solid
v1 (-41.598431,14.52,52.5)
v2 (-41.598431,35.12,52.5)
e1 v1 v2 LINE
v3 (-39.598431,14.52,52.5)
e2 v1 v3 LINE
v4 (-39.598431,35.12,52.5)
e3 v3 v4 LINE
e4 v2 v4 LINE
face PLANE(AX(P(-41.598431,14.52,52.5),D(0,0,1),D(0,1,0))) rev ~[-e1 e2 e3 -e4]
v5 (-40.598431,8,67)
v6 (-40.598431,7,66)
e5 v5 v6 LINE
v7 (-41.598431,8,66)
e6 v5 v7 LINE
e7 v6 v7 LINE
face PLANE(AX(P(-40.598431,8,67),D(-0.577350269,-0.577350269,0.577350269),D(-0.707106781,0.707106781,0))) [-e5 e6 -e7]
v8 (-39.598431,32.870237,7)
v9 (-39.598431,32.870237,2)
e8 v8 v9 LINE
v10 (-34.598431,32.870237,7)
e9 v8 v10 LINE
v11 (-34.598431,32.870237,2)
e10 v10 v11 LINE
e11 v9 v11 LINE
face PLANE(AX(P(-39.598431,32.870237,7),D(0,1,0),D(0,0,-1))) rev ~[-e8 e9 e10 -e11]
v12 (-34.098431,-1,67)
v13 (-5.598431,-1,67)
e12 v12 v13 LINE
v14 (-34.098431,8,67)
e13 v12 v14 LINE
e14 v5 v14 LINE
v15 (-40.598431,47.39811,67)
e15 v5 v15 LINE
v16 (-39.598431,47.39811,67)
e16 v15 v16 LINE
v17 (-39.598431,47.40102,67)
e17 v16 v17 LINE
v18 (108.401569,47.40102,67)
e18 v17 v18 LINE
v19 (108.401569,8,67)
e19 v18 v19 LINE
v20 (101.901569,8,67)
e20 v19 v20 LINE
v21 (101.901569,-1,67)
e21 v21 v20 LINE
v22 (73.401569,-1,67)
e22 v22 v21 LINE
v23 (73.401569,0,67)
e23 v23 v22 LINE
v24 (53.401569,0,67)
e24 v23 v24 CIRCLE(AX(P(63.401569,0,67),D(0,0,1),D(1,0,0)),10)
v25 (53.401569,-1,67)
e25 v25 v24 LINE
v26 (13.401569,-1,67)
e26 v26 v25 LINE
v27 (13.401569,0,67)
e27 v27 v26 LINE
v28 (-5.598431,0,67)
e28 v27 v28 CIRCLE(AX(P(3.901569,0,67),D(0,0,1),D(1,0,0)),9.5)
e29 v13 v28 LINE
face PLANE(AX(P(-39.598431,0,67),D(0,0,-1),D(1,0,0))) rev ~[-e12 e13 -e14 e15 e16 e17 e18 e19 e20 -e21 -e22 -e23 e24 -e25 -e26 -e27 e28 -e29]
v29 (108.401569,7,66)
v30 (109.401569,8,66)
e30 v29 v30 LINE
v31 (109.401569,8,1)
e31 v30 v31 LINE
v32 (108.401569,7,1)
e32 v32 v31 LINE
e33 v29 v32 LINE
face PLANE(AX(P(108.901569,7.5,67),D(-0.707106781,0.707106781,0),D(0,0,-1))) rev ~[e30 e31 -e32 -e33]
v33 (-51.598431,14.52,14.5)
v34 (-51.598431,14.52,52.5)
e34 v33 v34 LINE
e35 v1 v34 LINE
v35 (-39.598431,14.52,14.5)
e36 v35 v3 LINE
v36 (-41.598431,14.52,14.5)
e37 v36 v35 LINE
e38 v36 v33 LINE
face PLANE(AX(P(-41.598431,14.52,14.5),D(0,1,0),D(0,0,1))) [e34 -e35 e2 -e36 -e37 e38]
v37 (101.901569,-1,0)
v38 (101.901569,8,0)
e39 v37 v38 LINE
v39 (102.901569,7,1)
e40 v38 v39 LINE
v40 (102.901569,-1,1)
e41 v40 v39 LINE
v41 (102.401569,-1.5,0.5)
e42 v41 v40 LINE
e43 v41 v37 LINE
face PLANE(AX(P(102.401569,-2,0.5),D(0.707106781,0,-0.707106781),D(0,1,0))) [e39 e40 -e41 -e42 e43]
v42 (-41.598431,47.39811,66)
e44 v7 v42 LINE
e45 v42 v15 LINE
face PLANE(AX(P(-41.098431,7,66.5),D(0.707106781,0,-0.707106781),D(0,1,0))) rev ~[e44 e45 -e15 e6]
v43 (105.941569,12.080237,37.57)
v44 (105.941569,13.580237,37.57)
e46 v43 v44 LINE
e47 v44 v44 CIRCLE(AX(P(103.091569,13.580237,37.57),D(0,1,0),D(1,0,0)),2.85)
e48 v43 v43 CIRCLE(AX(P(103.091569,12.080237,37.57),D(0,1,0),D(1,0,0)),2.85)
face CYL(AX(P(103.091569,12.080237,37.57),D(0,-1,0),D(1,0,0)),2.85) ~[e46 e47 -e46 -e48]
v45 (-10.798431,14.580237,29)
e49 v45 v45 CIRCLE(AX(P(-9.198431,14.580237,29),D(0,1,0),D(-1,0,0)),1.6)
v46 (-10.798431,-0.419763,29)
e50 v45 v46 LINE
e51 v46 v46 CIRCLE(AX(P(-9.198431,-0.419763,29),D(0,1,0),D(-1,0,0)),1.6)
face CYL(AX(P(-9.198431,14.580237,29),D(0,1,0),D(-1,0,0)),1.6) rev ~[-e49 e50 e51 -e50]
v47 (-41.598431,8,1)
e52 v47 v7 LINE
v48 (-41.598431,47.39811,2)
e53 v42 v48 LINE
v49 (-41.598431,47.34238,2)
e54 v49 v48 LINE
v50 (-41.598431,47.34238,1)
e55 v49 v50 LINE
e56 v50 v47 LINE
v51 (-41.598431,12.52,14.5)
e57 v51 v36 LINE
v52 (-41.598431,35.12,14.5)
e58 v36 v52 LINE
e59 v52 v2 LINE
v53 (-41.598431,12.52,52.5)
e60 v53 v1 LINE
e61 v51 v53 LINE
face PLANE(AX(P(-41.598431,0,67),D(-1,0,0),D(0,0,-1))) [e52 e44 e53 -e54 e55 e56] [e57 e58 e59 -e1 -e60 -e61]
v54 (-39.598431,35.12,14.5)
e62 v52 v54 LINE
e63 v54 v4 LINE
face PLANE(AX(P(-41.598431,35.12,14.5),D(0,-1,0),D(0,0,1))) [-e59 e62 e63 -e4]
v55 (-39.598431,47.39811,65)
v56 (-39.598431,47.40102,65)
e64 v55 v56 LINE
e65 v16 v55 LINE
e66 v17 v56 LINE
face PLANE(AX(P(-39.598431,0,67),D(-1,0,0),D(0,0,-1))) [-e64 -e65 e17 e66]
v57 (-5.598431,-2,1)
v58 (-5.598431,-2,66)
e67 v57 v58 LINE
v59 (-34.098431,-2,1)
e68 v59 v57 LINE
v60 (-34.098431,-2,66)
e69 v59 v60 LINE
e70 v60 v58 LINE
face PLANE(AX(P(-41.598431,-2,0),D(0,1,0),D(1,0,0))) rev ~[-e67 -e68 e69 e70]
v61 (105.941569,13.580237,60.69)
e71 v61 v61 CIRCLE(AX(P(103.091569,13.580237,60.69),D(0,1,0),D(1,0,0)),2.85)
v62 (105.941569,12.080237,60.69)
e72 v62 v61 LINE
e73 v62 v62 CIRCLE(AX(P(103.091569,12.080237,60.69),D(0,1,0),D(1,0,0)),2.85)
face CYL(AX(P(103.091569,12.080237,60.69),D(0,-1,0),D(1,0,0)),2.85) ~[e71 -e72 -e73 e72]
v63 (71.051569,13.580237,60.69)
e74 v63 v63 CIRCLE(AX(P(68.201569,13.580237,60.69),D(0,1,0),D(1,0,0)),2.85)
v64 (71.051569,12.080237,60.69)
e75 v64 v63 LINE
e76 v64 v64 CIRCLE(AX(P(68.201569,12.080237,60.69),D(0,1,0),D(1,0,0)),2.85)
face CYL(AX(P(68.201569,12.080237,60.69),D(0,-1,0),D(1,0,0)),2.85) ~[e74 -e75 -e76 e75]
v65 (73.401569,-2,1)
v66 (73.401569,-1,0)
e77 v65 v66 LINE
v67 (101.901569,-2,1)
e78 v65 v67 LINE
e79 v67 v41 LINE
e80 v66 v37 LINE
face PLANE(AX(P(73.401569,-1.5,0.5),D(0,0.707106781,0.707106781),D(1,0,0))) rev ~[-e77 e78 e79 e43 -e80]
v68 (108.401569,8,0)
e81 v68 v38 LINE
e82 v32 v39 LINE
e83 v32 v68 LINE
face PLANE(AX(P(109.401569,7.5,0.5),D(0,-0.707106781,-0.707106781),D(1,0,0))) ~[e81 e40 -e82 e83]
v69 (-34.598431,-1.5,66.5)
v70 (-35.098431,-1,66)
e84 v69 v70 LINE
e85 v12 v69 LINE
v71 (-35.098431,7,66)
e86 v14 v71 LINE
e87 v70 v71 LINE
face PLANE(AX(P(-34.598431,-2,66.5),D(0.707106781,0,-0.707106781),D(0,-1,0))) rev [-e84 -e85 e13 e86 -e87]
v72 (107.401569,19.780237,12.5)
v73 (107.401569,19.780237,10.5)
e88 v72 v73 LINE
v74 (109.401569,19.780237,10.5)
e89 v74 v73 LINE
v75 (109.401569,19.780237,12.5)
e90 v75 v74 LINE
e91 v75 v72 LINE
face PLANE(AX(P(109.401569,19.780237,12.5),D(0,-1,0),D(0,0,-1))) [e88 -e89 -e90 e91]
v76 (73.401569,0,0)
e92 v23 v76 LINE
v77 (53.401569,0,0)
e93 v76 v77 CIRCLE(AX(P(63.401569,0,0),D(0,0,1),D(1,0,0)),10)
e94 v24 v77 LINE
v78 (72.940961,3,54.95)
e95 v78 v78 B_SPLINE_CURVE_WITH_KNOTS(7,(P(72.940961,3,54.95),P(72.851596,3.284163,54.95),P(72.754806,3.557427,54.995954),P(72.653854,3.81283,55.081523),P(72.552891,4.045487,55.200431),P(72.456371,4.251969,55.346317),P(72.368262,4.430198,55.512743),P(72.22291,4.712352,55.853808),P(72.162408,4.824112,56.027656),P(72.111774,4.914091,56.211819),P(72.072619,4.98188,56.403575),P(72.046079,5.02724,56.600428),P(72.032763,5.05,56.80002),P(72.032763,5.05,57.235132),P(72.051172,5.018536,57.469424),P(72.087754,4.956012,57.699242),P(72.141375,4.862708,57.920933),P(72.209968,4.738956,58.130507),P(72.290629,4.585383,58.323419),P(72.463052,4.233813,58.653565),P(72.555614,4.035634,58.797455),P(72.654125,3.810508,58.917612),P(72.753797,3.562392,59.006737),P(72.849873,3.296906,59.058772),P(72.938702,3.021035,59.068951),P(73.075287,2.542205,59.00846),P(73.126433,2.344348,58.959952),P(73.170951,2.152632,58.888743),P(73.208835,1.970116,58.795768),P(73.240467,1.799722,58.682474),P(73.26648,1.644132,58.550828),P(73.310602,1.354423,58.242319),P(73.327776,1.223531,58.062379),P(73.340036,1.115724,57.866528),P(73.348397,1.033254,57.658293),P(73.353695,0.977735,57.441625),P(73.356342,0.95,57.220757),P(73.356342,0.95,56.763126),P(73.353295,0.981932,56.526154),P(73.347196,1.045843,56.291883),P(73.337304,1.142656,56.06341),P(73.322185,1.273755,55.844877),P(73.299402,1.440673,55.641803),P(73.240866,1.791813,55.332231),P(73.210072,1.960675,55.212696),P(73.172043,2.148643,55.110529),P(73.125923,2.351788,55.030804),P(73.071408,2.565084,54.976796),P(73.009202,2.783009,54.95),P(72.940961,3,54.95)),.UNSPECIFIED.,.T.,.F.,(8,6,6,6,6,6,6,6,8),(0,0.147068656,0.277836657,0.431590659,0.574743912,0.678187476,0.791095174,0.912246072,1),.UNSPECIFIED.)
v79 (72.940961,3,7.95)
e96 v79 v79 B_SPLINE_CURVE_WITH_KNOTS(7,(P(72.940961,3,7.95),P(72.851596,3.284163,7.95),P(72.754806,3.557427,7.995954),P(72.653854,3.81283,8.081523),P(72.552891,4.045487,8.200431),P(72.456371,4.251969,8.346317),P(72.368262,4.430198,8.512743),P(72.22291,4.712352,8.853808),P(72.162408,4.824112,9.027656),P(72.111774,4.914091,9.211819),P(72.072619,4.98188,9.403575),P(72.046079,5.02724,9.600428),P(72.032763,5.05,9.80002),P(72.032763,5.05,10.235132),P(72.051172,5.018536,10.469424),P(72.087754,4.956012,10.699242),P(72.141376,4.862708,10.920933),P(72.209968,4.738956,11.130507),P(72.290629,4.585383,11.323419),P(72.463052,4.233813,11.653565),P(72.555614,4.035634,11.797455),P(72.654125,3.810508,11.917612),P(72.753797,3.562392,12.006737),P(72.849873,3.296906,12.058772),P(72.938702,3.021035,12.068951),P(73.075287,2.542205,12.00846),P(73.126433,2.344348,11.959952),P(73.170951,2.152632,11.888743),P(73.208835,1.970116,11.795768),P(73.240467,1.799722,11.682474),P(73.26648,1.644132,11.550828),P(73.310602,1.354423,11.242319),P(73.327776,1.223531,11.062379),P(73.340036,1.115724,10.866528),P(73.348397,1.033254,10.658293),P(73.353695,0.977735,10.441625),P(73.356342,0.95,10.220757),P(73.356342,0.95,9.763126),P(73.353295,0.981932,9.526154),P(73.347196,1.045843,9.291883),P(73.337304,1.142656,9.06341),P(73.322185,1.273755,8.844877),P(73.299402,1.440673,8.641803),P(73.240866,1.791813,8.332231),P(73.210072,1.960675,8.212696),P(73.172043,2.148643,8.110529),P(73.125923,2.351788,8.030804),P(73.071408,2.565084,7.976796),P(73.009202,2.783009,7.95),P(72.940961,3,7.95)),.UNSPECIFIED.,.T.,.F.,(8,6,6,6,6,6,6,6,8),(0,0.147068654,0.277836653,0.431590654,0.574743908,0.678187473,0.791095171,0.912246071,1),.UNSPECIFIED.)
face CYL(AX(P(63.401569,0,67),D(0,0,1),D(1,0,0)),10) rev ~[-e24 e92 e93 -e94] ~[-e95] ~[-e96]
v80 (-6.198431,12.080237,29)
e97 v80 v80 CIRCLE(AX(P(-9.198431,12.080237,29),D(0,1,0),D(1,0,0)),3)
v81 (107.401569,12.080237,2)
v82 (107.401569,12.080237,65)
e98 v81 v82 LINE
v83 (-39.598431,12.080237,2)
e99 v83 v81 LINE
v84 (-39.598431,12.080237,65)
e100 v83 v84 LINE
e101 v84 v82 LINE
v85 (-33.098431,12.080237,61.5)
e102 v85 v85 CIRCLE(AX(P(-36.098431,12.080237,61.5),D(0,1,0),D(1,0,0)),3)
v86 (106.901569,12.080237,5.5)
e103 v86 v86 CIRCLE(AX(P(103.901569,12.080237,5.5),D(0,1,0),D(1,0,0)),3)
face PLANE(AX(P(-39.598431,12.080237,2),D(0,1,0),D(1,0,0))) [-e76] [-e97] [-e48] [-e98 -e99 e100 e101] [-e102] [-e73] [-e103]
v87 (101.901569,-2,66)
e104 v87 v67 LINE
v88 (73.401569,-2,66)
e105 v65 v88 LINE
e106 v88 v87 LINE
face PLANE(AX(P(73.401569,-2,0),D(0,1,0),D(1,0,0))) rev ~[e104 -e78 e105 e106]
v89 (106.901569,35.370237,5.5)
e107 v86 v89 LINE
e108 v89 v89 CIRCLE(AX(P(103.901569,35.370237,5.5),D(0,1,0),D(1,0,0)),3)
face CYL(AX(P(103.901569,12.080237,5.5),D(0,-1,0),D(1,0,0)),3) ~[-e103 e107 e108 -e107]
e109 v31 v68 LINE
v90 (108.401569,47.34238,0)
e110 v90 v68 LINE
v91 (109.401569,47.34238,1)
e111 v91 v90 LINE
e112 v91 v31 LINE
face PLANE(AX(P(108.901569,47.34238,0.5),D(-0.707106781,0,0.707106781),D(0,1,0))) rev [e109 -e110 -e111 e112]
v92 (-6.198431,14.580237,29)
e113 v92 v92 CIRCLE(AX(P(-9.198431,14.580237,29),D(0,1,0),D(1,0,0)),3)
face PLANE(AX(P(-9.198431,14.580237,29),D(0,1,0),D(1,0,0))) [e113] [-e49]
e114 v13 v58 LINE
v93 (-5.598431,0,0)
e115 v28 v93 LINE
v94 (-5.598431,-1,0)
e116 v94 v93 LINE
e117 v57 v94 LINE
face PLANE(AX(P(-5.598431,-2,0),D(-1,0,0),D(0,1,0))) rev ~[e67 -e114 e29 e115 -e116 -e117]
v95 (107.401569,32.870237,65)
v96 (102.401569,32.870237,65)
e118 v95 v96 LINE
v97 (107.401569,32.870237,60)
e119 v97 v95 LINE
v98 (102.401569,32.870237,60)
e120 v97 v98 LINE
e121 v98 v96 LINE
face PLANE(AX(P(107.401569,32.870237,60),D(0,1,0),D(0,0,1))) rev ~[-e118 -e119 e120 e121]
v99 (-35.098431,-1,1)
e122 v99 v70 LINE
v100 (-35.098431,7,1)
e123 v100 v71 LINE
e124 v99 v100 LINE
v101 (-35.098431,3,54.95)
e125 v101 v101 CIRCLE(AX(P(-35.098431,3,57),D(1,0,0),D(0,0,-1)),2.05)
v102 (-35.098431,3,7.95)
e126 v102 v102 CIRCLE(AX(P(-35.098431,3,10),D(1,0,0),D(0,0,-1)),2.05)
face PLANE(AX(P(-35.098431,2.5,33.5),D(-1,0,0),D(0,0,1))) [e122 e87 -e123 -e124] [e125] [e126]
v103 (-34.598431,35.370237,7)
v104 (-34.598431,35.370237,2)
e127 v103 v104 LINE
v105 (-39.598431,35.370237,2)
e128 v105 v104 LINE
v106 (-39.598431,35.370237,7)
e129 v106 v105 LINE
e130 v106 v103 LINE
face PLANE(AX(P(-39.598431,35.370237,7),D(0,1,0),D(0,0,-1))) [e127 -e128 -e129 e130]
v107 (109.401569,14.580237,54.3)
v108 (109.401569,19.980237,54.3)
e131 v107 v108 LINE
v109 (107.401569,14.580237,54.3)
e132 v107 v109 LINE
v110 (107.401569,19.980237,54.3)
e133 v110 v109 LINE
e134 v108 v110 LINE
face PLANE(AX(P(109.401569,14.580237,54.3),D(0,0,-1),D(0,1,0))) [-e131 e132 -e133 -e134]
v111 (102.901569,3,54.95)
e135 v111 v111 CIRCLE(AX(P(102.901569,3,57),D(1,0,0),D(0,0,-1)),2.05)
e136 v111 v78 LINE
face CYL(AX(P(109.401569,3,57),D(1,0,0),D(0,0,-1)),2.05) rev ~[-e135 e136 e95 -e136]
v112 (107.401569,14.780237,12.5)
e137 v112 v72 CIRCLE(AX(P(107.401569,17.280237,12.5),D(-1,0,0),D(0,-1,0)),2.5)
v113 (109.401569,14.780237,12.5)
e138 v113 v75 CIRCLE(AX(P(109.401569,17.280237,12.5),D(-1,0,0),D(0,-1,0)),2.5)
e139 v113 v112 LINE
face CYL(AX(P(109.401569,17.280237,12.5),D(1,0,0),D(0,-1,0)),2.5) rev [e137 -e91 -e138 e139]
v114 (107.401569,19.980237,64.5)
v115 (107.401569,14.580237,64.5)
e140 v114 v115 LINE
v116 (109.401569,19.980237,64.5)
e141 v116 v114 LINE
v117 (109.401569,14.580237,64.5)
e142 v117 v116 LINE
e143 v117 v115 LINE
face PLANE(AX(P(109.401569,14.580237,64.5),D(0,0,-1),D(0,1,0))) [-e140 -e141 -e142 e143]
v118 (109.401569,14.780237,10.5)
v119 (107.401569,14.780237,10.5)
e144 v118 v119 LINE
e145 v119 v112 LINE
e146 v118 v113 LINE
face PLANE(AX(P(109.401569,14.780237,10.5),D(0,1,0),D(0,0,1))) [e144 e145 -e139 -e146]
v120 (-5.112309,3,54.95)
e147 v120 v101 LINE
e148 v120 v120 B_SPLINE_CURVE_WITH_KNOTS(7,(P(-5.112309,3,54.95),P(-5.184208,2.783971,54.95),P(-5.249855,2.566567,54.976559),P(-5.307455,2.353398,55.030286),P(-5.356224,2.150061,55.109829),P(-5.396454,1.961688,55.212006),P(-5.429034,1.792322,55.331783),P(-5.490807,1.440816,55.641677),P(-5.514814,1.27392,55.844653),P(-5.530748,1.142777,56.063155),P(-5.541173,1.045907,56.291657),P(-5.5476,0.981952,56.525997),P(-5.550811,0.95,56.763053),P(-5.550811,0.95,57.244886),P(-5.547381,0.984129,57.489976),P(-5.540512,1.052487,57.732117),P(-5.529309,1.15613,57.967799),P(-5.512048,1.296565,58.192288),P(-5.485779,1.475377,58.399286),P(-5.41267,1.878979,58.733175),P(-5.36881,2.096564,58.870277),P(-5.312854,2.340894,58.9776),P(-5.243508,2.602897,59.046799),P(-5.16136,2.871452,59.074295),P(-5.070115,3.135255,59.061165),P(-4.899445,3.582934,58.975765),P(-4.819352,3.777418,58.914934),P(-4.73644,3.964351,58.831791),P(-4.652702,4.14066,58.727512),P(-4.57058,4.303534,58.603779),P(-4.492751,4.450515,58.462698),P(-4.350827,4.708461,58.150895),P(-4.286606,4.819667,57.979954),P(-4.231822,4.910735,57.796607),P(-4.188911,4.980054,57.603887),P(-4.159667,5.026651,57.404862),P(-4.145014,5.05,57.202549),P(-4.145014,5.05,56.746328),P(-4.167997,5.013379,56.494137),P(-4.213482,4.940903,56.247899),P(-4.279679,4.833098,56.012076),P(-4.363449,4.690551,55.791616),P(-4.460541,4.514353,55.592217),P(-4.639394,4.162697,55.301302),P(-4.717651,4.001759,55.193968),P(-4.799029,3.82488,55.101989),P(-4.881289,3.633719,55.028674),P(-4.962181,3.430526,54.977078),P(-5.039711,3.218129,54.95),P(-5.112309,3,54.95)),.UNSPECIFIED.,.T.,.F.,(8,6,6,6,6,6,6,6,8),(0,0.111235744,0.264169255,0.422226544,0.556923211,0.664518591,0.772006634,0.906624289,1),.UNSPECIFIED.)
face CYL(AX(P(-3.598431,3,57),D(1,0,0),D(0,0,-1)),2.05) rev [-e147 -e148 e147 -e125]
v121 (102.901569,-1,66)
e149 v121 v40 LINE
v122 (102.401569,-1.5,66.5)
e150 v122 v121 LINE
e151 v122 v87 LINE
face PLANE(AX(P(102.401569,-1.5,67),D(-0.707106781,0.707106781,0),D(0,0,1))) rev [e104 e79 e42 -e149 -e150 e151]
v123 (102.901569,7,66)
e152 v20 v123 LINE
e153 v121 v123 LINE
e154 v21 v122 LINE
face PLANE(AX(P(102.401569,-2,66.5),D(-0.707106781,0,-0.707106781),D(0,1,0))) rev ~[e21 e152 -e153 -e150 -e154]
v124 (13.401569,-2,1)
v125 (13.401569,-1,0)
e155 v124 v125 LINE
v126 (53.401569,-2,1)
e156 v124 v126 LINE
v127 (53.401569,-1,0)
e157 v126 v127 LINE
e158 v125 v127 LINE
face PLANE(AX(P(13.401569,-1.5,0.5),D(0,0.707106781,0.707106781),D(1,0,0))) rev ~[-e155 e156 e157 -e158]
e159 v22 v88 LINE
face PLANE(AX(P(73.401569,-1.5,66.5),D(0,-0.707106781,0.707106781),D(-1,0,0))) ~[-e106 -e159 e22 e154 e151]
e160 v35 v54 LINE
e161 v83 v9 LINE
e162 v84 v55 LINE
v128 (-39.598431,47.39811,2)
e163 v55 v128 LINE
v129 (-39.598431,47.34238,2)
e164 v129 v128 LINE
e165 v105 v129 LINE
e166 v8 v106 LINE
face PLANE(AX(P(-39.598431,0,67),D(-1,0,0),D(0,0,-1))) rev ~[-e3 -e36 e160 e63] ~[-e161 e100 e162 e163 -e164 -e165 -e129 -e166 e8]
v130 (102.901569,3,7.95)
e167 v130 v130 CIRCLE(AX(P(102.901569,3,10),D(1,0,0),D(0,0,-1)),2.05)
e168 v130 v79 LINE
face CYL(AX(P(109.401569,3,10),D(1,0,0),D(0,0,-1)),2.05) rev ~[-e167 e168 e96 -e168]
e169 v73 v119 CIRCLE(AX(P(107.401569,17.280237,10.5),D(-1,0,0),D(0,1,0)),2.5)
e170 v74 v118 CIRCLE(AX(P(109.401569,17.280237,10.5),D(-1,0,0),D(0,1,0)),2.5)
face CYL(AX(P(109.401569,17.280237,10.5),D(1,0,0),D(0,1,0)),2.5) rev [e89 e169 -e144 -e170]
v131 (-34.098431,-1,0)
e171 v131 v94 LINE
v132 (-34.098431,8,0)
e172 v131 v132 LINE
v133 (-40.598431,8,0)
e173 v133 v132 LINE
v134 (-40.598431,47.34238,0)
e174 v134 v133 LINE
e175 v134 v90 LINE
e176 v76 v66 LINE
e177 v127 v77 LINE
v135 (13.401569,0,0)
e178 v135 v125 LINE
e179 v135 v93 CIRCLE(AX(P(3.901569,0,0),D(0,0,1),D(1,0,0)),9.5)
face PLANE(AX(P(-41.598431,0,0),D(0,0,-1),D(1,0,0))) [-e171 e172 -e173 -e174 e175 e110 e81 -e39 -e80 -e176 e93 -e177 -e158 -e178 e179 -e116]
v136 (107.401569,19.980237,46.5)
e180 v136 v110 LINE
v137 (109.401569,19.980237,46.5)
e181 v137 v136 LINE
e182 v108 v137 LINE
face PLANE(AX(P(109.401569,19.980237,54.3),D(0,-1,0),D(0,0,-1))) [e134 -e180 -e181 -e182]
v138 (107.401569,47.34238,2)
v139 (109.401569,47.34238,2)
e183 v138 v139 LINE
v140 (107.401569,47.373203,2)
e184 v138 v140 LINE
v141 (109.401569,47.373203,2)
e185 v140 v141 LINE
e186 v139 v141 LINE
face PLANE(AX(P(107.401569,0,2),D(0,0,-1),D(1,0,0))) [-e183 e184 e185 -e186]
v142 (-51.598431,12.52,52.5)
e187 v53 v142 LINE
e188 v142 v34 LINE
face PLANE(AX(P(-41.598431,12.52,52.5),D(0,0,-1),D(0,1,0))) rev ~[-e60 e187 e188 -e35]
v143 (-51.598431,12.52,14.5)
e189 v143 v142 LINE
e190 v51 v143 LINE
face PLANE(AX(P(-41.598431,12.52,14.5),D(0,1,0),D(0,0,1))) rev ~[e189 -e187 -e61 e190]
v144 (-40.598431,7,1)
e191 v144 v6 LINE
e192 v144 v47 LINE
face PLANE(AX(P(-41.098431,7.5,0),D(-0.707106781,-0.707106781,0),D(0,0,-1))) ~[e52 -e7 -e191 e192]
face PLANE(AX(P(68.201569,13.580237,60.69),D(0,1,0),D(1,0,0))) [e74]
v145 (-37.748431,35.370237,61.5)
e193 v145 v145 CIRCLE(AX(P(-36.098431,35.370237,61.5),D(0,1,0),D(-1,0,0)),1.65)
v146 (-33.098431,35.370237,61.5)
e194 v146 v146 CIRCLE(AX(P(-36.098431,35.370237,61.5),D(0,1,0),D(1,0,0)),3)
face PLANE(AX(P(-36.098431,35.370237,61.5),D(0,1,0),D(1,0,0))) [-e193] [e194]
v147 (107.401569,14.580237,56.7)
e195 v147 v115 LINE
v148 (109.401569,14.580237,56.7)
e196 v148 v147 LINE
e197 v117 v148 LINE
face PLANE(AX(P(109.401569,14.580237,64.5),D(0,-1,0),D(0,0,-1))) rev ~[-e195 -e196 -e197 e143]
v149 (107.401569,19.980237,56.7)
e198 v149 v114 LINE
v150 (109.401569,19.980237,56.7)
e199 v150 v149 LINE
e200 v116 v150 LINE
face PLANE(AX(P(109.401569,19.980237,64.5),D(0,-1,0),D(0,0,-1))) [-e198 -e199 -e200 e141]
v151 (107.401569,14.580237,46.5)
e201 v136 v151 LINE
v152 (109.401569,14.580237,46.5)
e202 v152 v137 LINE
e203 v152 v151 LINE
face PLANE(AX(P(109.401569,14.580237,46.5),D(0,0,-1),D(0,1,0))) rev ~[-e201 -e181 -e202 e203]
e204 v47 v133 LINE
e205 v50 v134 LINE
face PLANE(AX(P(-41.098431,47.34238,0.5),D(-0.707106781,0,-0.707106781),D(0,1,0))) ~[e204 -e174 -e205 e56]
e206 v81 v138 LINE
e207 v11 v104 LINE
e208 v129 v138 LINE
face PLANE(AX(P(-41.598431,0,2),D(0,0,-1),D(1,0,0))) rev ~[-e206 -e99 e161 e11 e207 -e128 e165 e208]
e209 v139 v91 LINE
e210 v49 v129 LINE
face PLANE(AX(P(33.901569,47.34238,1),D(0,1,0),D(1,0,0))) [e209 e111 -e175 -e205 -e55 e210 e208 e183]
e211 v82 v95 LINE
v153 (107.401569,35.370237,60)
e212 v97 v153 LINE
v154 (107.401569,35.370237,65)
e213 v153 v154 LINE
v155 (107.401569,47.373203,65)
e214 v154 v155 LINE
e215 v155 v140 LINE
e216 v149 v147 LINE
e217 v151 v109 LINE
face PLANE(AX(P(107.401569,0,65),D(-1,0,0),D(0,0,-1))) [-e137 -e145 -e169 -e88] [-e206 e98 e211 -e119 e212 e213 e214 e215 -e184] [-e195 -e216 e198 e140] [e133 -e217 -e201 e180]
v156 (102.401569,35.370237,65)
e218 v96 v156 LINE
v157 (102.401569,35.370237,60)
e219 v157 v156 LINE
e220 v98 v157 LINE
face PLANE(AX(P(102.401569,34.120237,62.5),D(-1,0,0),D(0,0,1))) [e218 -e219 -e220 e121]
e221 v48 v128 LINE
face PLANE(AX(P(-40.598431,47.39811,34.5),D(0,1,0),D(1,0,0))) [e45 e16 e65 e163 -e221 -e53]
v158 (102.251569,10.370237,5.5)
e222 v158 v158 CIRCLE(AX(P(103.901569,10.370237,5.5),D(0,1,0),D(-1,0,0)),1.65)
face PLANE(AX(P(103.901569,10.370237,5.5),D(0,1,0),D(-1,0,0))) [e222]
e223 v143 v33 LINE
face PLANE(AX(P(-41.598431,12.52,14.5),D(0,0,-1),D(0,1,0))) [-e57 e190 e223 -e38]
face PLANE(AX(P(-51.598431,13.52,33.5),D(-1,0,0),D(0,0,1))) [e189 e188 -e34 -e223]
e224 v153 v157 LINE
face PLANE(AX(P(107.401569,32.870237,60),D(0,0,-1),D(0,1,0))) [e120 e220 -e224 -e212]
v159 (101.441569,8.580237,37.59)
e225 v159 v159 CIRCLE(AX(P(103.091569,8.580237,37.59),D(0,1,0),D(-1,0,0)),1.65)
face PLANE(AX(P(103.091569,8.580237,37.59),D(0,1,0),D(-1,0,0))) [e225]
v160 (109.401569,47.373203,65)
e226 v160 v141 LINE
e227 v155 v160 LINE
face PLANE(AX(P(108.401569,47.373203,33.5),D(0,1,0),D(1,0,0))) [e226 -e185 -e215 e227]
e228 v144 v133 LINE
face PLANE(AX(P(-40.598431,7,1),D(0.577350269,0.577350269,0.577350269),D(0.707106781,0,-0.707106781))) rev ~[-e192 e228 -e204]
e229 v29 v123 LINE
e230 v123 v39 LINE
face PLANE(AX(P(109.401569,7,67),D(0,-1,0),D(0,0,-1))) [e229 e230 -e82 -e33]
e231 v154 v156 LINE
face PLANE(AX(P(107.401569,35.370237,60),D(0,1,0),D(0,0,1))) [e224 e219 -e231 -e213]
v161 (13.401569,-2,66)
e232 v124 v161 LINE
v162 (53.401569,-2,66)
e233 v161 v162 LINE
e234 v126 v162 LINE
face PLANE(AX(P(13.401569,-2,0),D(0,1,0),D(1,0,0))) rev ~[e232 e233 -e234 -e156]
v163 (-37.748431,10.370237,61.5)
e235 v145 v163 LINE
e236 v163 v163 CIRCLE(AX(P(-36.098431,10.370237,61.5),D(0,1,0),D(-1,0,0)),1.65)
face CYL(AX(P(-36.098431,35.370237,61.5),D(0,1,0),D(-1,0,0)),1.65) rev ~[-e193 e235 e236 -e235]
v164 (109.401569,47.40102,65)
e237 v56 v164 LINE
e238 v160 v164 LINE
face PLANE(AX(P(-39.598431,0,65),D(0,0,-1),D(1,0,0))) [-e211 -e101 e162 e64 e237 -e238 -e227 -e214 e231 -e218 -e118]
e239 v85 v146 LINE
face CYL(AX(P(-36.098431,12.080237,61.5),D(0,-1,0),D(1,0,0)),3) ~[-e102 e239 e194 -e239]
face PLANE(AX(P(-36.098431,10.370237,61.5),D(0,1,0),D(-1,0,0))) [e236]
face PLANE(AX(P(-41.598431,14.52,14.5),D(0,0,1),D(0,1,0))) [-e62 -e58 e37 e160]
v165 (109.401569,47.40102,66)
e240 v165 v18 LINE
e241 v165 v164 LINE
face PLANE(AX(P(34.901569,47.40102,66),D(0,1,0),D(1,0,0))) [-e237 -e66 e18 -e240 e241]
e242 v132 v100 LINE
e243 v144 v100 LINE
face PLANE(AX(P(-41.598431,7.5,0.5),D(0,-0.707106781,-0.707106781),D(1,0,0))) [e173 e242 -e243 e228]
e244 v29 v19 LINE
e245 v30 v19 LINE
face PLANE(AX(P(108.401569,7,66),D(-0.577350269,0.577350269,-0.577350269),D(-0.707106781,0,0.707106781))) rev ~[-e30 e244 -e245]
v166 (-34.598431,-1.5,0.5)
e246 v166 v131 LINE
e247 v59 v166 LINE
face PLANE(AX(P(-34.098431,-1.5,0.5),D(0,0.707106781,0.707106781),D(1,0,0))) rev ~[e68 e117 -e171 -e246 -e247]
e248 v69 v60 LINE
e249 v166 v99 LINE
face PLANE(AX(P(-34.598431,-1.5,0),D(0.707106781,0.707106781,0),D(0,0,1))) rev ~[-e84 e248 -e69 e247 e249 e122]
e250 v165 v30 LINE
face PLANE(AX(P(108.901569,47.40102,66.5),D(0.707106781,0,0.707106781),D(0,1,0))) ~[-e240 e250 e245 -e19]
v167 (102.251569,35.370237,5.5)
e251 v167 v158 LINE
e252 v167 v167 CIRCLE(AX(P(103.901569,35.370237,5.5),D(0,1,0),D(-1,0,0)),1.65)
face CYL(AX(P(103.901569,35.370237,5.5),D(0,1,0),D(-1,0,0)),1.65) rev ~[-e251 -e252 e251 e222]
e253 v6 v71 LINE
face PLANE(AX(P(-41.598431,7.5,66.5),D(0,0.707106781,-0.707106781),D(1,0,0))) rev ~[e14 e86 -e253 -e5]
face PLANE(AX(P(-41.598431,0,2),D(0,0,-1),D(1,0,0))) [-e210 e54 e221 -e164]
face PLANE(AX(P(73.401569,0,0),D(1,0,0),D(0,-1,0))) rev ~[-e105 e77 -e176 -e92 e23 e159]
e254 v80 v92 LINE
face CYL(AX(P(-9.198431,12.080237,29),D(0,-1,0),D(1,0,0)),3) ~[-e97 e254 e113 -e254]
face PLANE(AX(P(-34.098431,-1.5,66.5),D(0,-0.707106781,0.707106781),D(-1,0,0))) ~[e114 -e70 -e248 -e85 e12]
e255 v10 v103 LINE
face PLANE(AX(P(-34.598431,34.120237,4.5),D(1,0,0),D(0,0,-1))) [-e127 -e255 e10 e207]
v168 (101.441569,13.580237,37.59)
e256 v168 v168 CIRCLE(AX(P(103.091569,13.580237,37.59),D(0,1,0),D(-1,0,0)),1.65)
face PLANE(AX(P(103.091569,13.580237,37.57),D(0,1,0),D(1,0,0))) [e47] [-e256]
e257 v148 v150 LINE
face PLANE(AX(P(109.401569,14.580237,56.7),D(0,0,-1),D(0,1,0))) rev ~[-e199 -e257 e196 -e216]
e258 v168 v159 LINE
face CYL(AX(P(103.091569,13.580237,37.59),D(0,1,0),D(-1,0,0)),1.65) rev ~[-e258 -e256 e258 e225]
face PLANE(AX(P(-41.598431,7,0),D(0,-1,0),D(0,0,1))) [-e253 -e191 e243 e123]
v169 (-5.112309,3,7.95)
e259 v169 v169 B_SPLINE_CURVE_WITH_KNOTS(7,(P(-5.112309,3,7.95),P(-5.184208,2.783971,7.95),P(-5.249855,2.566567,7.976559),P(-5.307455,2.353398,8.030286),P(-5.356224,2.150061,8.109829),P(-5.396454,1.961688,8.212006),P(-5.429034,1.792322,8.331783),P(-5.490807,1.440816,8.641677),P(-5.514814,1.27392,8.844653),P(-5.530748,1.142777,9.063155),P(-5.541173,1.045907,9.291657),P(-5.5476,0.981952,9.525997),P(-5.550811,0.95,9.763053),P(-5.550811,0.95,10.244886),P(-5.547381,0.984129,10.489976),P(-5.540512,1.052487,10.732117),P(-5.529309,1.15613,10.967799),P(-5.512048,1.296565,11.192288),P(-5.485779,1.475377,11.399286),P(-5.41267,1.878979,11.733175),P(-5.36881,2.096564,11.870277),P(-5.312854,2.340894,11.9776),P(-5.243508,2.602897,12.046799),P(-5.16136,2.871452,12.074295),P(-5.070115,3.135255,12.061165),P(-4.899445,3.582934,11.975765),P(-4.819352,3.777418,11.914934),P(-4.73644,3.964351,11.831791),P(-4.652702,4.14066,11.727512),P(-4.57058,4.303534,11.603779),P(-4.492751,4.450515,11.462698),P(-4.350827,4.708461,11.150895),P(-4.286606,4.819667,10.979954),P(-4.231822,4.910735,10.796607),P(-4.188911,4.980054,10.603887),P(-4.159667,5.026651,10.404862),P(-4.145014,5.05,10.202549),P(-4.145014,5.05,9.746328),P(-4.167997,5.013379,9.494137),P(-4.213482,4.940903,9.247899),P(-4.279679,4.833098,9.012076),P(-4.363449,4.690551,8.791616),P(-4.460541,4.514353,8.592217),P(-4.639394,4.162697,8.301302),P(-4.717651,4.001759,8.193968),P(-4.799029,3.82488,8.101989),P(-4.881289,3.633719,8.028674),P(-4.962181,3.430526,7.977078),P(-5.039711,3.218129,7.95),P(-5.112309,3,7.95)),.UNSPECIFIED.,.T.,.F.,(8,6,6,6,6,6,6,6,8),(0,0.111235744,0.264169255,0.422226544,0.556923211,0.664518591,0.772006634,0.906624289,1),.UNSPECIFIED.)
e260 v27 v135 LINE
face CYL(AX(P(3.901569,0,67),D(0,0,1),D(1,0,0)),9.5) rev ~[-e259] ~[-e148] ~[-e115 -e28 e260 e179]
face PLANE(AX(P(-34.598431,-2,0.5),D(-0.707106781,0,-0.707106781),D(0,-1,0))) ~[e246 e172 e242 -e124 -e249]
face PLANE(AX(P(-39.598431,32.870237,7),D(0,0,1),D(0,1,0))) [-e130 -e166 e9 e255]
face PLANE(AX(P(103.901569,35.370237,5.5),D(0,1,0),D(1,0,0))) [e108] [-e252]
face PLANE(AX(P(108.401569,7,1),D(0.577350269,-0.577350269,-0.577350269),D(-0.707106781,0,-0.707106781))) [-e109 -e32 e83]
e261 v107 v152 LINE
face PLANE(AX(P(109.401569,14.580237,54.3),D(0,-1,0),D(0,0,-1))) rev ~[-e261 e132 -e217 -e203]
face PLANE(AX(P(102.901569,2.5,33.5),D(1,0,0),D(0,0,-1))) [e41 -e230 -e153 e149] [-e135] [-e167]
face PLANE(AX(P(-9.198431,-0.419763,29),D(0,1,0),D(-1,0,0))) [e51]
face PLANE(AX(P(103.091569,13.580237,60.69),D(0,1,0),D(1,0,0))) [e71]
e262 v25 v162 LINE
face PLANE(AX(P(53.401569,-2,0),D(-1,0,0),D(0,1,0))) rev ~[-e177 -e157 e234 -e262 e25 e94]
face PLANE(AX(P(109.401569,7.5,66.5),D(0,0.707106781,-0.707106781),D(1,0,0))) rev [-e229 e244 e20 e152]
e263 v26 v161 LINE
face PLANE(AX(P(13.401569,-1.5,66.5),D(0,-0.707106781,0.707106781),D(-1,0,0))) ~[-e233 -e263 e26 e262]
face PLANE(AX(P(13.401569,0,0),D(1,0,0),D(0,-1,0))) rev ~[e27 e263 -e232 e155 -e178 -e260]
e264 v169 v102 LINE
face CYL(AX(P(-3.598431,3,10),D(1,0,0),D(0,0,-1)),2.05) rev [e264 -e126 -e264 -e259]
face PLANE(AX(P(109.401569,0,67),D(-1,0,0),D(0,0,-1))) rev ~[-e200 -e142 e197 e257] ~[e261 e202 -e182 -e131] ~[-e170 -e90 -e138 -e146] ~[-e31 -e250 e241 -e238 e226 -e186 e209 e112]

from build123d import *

# Parameters (mm, degrees)
AUFSATZ_LINEAR_AUSTRAGEN1_DEPTH  = 67
SKIZZE3_W                        = 151
SKIZZE3_H                        = 2
AUFSATZ_LINEAR_AUSTRAGEN2_DEPTH  = 47.34238026
SKIZZE4_W                        = 2
SKIZZE4_H                        = 65
AUFSATZ_LINEAR_AUSTRAGEN3_DEPTH  = 47.39811
SKIZZE6_W                        = 149
SKIZZE6_H                        = 2
AUFSATZ_LINEAR_AUSTRAGEN4_DEPTH  = 47.40101983
SKIZZE7_W                        = 2
SKIZZE7_H                        = 63
AUFSATZ_LINEAR_AUSTRAGEN5_DEPTH  = 47.37320267
SKIZZE20_W                       = 147
SKIZZE20_H                       = 12.080237494
AUFSATZ_LINEAR_AUSTRAGEN6_DEPTH  = 63
SCHNITT_LINEAR_AUSTRAGEN1_DEPTH  = 137.764615455
SKIZZE23_W                       = 7.8
SKIZZE23_H                       = 5.4
SCHNITT_LINEAR_AUSTRAGEN12_DEPTH = 47
SKIZZE26_R                       = 2.05
SCHNITT_LINEAR_AUSTRAGEN13_DEPTH = 38
SKIZZE28_R                       = 2.05
SCHNITT_LINEAR_AUSTRAGEN14_DEPTH = 38
SCHNITT_LINEAR_START             = -38
SKIZZE29_R                       = 2.05
SCHNITT_LINEAR_AUSTRAGEN15_DEPTH = 38
SKIZZE31_R                       = 2.05
SCHNITT_LINEAR_AUSTRAGEN16_DEPTH = 38
SKIZZE32_R                       = 3
AUFSATZ_LINEAR_AUSTRAGEN15_DEPTH = 23.29
SKIZZE33_R                       = 3
AUFSATZ_LINEAR_AUSTRAGEN16_DEPTH = 23.29
SKIZZE34_R                       = 1.65
SCHNITT_LINEAR_AUSTRAGEN17_DEPTH = 25
SKIZZE35_R                       = 1.65
SCHNITT_LINEAR_AUSTRAGEN18_DEPTH = 25
SKIZZE37_W                       = 67
SKIZZE37_H                       = 9
SCHNITT_LINEAR_AUSTRAGEN20_DEPTH = 6.5
SKIZZE38_W                       = 67
SKIZZE38_H                       = 9
SCHNITT_LINEAR_AUSTRAGEN21_DEPTH = 6.5
FASE2_SIZE                       = 1
FASE13_SIZE                      = 1
SKIZZE40_R                       = 2.85
AUFSATZ_LINEAR_AUSTRAGEN17_DEPTH = 1.5
SKIZZE41_R                       = 1.65
SCHNITT_LINEAR_AUSTRAGEN23_DEPTH = 5
SKIZZE42_R                       = 2.85
AUFSATZ_LINEAR_AUSTRAGEN18_DEPTH = 1.5
SCHNITT_LINEAR_AUSTRAGEN24_DEPTH = 2
SKIZZE46_W                       = 5
SKIZZE46_H                       = 2.5
AUFSATZ_LINEAR_AUSTRAGEN21_DEPTH = 5
SKIZZE47_W                       = 5
SKIZZE47_H                       = 2.5
AUFSATZ_LINEAR_AUSTRAGEN22_DEPTH = 5
SKIZZE48_W                       = 38
SKIZZE48_H                       = 20.6
SCHNITT_LINEAR_AUSTRAGEN25_DEPTH = 2
SKIZZE49_W                       = 38
SKIZZE49_H                       = 2
AUFSATZ_LINEAR_AUSTRAGEN23_DEPTH = 10
SKIZZE51_R                       = 3
AUFSATZ_LINEAR_AUSTRAGEN24_DEPTH = 2.5
SKIZZE52_R                       = 1.6
SCHNITT_LINEAR_AUSTRAGEN26_DEPTH = 15


with BuildPart() as part:
    # Skizze1 → Aufsatz-Linear austragen1 (new body)
    with BuildSketch(Plane.XY):
        with BuildLine():
            Line((13.401569275, 0), (13.401569275, -2))
            Line((13.401569275, -2), (53.401569275, -2))
            Line((53.401569275, -2), (53.401569275, 0))
            ThreePointArc((53.401569275, 0), (63.401569275, 10), (73.401569275, 0))
            Line((73.401569275, 0), (73.401569275, -2))
            Line((73.401569275, -2), (109.401569275, -2))
            Line((109.401569275, -2), (109.401569275, 0))
            Line((109.401569275, 0), (75.401569275, 0))
            ThreePointArc((75.401569275, 0), (63.401569275, 12), (51.401569275, 0))
            Line((51.401569275, 0), (15.488199501, 0))
            ThreePointArc((15.488199501, 0), (3.901569275, 8.877501001), (-7.685060952, 0))
            Line((-7.685060952, 0), (-41.598430725, 0))
            Line((-41.598430725, 0), (-41.598430725, -2))
            Line((-41.598430725, -2), (-5.598430725, -2))
            Line((-5.598430725, -2), (-5.598430725, 0))
            ThreePointArc((-5.598430725, 0), (3.901569275, 6.877501001), (13.401569275, 0))
        make_face()
    extrude(amount=AUFSATZ_LINEAR_AUSTRAGEN1_DEPTH)

    # Skizze3 → Aufsatz-Linear austragen2 (add)
    with BuildSketch(Plane(origin=(0, 0, 0), x_dir=(1, 0, 0), z_dir=(0, 1, 0))):
        with Locations((33.901569275, -1)):
            Rectangle(SKIZZE3_W, SKIZZE3_H)
    extrude(amount=AUFSATZ_LINEAR_AUSTRAGEN2_DEPTH)

    # Skizze4 → Aufsatz-Linear austragen3 (add)
    with BuildSketch(Plane(origin=(0, 0, 0), x_dir=(1, 0, 0), z_dir=(0, 1, 0))):
        with Locations((-40.598430725, -34.5)):
            Rectangle(SKIZZE4_W, SKIZZE4_H)
    extrude(amount=AUFSATZ_LINEAR_AUSTRAGEN3_DEPTH)

    # Skizze6 → Aufsatz-Linear austragen4 (add)
    with BuildSketch(Plane(origin=(0, 0, 0), x_dir=(1, 0, 0), z_dir=(0, 1, 0))):
        with Locations((34.901569275, -66)):
            Rectangle(SKIZZE6_W, SKIZZE6_H)
    extrude(amount=AUFSATZ_LINEAR_AUSTRAGEN4_DEPTH)

    # Skizze7 → Aufsatz-Linear austragen5 (add)
    with BuildSketch(Plane(origin=(0, 0, 0), x_dir=(1, 0, 0), z_dir=(0, 1, 0))):
        with Locations((108.401569275, -33.5)):
            Rectangle(SKIZZE7_W, SKIZZE7_H)
    extrude(amount=AUFSATZ_LINEAR_AUSTRAGEN5_DEPTH)

    # Skizze20 → Aufsatz-Linear austragen6 (add)
    with BuildSketch(Plane.XY.offset(2)):
        with Locations((33.901569275, 6.040118747)):
            Rectangle(SKIZZE20_W, SKIZZE20_H)
    extrude(amount=AUFSATZ_LINEAR_AUSTRAGEN6_DEPTH)

    # Skizze8 → Schnitt-Linear austragen1 (cut, through all)
    with BuildSketch(Plane.XY.offset(67)):
        with BuildLine():
            Line((53.401569275, 0), (73.401569275, 0))
            ThreePointArc((73.401569275, 0), (63.401569275, 10), (53.401569275, 0))
        make_face()
        with BuildLine():
            Line((-5.598430725, 0), (13.401569275, 0))
            ThreePointArc((13.401569275, 0), (3.901569275, 9.5), (-5.598430725, 0))
        make_face()
    extrude(amount=-SCHNITT_LINEAR_AUSTRAGEN1_DEPTH, mode=Mode.SUBTRACT)

    # Skizze23 → Schnitt-Linear austragen12 (cut)
    with BuildSketch(Plane(origin=(109.401569275, 0, 0), x_dir=(0, 0, -1), z_dir=(1, 0, 0))):
        with Locations((-60.6, 17.280237494)):
            Rectangle(SKIZZE23_W, SKIZZE23_H)
        with Locations((-50.4, 17.280237494)):
            Rectangle(SKIZZE23_W, SKIZZE23_H)
    extrude(amount=-SCHNITT_LINEAR_AUSTRAGEN12_DEPTH, mode=Mode.SUBTRACT)

    # Skizze26 → Schnitt-Linear austragen13 (cut)
    with BuildSketch(Plane(origin=(109.401569275, 0, 0), x_dir=(0, 0, -1), z_dir=(1, 0, 0))):
        with Locations((-57, 3)):
            Circle(SKIZZE26_R)
    extrude(amount=-SCHNITT_LINEAR_AUSTRAGEN13_DEPTH, mode=Mode.SUBTRACT)

    # Skizze28 → Schnitt-Linear austragen14 (cut)
    with BuildSketch(Plane(origin=(109.401569275, 0, 0), x_dir=(0, 0, -1), z_dir=(1, 0, 0))):
        with Locations((-10, 3)):
            Circle(SKIZZE28_R)
    extrude(amount=-SCHNITT_LINEAR_AUSTRAGEN14_DEPTH, mode=Mode.SUBTRACT)

    # Skizze29 → Schnitt-Linear austragen15 (cut)
    with BuildSketch(Plane.ZY.offset(41.598430725).offset(SCHNITT_LINEAR_START)):
        with Locations(Location((57, 3, 0), (0, 0, 180))):
            Circle(SKIZZE29_R)
    extrude(amount=SCHNITT_LINEAR_AUSTRAGEN15_DEPTH, mode=Mode.SUBTRACT)

    # Skizze31 → Schnitt-Linear austragen16 (cut)
    with BuildSketch(Plane.ZY.offset(41.598430725).offset(SCHNITT_LINEAR_START)):
        with Locations(Location((10, 3, 0), (0, 0, 180))):
            Circle(SKIZZE31_R)
    extrude(amount=SCHNITT_LINEAR_AUSTRAGEN16_DEPTH, mode=Mode.SUBTRACT)

    # Skizze32 → Aufsatz-Linear austragen15 (add)
    with BuildSketch(Plane(origin=(0, 12.080237494, 0), x_dir=(1, 0, 0), z_dir=(0, 1, 0))):
        with Locations((-36.098430725, -61.5)):
            Circle(SKIZZE32_R)
    extrude(amount=AUFSATZ_LINEAR_AUSTRAGEN15_DEPTH)

    # Skizze33 → Aufsatz-Linear austragen16 (add)
    with BuildSketch(Plane(origin=(0, 12.080237494, 0), x_dir=(1, 0, 0), z_dir=(0, 1, 0))):
        with Locations((103.901569275, -5.5)):
            Circle(SKIZZE33_R)
    extrude(amount=AUFSATZ_LINEAR_AUSTRAGEN16_DEPTH)

    # Skizze34 → Schnitt-Linear austragen17 (cut)
    with BuildSketch(Plane(origin=(0, 35.370237494, 0), x_dir=(1, 0, 0), z_dir=(0, 1, 0))):
        with Locations(Location((-36.098430725, -61.5, 0), (0, 0, 180))):
            Circle(SKIZZE34_R)
    extrude(amount=-SCHNITT_LINEAR_AUSTRAGEN17_DEPTH, mode=Mode.SUBTRACT)

    # Skizze35 → Schnitt-Linear austragen18 (cut)
    with BuildSketch(Plane(origin=(0, 35.370237494, 0), x_dir=(1, 0, 0), z_dir=(0, 1, 0))):
        with Locations(Location((103.901569275, -5.5, 0), (0, 0, 180))):
            Circle(SKIZZE35_R)
    extrude(amount=-SCHNITT_LINEAR_AUSTRAGEN18_DEPTH, mode=Mode.SUBTRACT)

    # Skizze37 → Schnitt-Linear austragen20 (cut)
    with BuildSketch(Plane(origin=(109.401569275, 0, 0), x_dir=(0, 0, -1), z_dir=(1, 0, 0))):
        with Locations((-33.5, 2.5)):
            Rectangle(SKIZZE37_W, SKIZZE37_H)
    extrude(amount=-SCHNITT_LINEAR_AUSTRAGEN20_DEPTH, mode=Mode.SUBTRACT)

    # Skizze38 → Schnitt-Linear austragen21 (cut)
    with BuildSketch(Plane.ZY.offset(41.598430725)):
        with Locations((33.5, 2.5)):
            Rectangle(SKIZZE38_W, SKIZZE38_H)
    extrude(amount=-SCHNITT_LINEAR_AUSTRAGEN21_DEPTH, mode=Mode.SUBTRACT)

    # Fase2
    fase2_edges = [part.edges().sort_by_distance(p)[0] for p in [
        (-41.598430725, 27.17119013, 0),
        (109.401569275, 27.17119013, 0),
        (109.401569275, 27.200509915, 67),
        (109.401569275, 7, 33.5),
        (102.901569275, 2.5, 67),
        (106.151569275, 7, 67),
        (102.901569275, 2.5, 0),
        (106.151569275, 7, 0),
        (102.901569275, -2, 33.5),
        (-41.598430725, 7, 33.5),
        (-35.098430725, 2.5, 0),
        (-38.348430725, 7, 0),
        (-35.098430725, 2.5, 67),
        (-38.348430725, 7, 67),
        (-35.098430725, -2, 33.5),
        (-41.598430725, 27.199055, 67),
    ]]
    chamfer(fase2_edges, length=FASE2_SIZE)

    # Fase13
    fase13_edges = [part.edges().sort_by_distance(p)[0] for p in [
        (33.401569275, -2, 67),
        (87.651569275, -2, 0),
        (33.401569275, -2, 0),
        (87.651569275, -2, 67),
        (-19.848430725, -2, 0),
        (-19.848430725, -2, 67),
    ]]
    chamfer(fase13_edges, length=FASE13_SIZE)

    # Skizze40 → Aufsatz-Linear austragen17 (add)
    with BuildSketch(Plane(origin=(0, 12.080237494, 0), x_dir=(1, 0, 0), z_dir=(0, 1, 0))):
        with Locations((103.091569275, -37.57)):
            Circle(SKIZZE40_R)
    extrude(amount=AUFSATZ_LINEAR_AUSTRAGEN17_DEPTH)

    # Skizze41 → Schnitt-Linear austragen23 (cut)
    with BuildSketch(Plane(origin=(0, 13.580237494, 0), x_dir=(1, 0, 0), z_dir=(0, 1, 0))):
        with Locations(Location((103.091569275, -37.59, 0), (0, 0, 180))):
            Circle(SKIZZE41_R)
    extrude(amount=-SCHNITT_LINEAR_AUSTRAGEN23_DEPTH, mode=Mode.SUBTRACT)

    # Skizze42 → Aufsatz-Linear austragen18 (add)
    with BuildSketch(Plane(origin=(0, 12.080237494, 0), x_dir=(1, 0, 0), z_dir=(0, 1, 0))):
        with Locations((103.091569275, -60.69)):
            Circle(SKIZZE42_R)
        with Locations((68.201569275, -60.69)):
            Circle(SKIZZE42_R)
    extrude(amount=AUFSATZ_LINEAR_AUSTRAGEN18_DEPTH)

    # Skizze43 → Schnitt-Linear austragen24 (cut)
    with BuildSketch(Plane(origin=(109.401569275, 0, 0), x_dir=(0, 0, -1), z_dir=(1, 0, 0))):
        with BuildLine():
            Line((-12.5, 19.780237494), (-10.5, 19.780237494))
            ThreePointArc((-10.5, 19.780237494), (-8, 17.280237494), (-10.5, 14.780237494))
            Line((-10.5, 14.780237494), (-12.5, 14.780237494))
            ThreePointArc((-12.5, 14.780237494), (-15, 17.280237494), (-12.5, 19.780237494))
        make_face()
    extrude(amount=-SCHNITT_LINEAR_AUSTRAGEN24_DEPTH, mode=Mode.SUBTRACT)

    # Skizze46 → Aufsatz-Linear austragen21 (add)
    with BuildSketch(Plane(origin=(-39.598430725, 0, 0), x_dir=(0, 0, -1), z_dir=(1, 0, 0))):
        with Locations((-4.5, 34.120237494)):
            Rectangle(SKIZZE46_W, SKIZZE46_H)
    extrude(amount=AUFSATZ_LINEAR_AUSTRAGEN21_DEPTH)

    # Skizze47 → Aufsatz-Linear austragen22 (add)
    with BuildSketch(Plane.ZY.offset(-107.401569275)):
        with Locations((62.5, 34.120237494)):
            Rectangle(SKIZZE47_W, SKIZZE47_H)
    extrude(amount=AUFSATZ_LINEAR_AUSTRAGEN22_DEPTH)

    # Skizze48 → Schnitt-Linear austragen25 (cut)
    with BuildSketch(Plane.ZY.offset(41.598430725)):
        with Locations((33.5, 24.82)):
            Rectangle(SKIZZE48_W, SKIZZE48_H)
    extrude(amount=-SCHNITT_LINEAR_AUSTRAGEN25_DEPTH, mode=Mode.SUBTRACT)

    # Skizze49 → Aufsatz-Linear austragen23 (add)
    with BuildSketch(Plane.ZY.offset(41.598430725)):
        with Locations((33.5, 13.52)):
            Rectangle(SKIZZE49_W, SKIZZE49_H)
    extrude(amount=AUFSATZ_LINEAR_AUSTRAGEN23_DEPTH)

    # Skizze51 → Aufsatz-Linear austragen24 (add)
    with BuildSketch(Plane(origin=(0, 12.080237494, 0), x_dir=(1, 0, 0), z_dir=(0, 1, 0))):
        with Locations((-9.198430725, -29)):
            Circle(SKIZZE51_R)
    extrude(amount=AUFSATZ_LINEAR_AUSTRAGEN24_DEPTH)

    # Skizze52 → Schnitt-Linear austragen26 (cut)
    with BuildSketch(Plane(origin=(0, 14.580237494, 0), x_dir=(1, 0, 0), z_dir=(0, 1, 0))):
        with Locations(Location((-9.198430725, -29, 0), (0, 0, 180))):
            Circle(SKIZZE52_R)
    extrude(amount=-SCHNITT_LINEAR_AUSTRAGEN26_DEPTH, mode=Mode.SUBTRACT)


solid = part.part
